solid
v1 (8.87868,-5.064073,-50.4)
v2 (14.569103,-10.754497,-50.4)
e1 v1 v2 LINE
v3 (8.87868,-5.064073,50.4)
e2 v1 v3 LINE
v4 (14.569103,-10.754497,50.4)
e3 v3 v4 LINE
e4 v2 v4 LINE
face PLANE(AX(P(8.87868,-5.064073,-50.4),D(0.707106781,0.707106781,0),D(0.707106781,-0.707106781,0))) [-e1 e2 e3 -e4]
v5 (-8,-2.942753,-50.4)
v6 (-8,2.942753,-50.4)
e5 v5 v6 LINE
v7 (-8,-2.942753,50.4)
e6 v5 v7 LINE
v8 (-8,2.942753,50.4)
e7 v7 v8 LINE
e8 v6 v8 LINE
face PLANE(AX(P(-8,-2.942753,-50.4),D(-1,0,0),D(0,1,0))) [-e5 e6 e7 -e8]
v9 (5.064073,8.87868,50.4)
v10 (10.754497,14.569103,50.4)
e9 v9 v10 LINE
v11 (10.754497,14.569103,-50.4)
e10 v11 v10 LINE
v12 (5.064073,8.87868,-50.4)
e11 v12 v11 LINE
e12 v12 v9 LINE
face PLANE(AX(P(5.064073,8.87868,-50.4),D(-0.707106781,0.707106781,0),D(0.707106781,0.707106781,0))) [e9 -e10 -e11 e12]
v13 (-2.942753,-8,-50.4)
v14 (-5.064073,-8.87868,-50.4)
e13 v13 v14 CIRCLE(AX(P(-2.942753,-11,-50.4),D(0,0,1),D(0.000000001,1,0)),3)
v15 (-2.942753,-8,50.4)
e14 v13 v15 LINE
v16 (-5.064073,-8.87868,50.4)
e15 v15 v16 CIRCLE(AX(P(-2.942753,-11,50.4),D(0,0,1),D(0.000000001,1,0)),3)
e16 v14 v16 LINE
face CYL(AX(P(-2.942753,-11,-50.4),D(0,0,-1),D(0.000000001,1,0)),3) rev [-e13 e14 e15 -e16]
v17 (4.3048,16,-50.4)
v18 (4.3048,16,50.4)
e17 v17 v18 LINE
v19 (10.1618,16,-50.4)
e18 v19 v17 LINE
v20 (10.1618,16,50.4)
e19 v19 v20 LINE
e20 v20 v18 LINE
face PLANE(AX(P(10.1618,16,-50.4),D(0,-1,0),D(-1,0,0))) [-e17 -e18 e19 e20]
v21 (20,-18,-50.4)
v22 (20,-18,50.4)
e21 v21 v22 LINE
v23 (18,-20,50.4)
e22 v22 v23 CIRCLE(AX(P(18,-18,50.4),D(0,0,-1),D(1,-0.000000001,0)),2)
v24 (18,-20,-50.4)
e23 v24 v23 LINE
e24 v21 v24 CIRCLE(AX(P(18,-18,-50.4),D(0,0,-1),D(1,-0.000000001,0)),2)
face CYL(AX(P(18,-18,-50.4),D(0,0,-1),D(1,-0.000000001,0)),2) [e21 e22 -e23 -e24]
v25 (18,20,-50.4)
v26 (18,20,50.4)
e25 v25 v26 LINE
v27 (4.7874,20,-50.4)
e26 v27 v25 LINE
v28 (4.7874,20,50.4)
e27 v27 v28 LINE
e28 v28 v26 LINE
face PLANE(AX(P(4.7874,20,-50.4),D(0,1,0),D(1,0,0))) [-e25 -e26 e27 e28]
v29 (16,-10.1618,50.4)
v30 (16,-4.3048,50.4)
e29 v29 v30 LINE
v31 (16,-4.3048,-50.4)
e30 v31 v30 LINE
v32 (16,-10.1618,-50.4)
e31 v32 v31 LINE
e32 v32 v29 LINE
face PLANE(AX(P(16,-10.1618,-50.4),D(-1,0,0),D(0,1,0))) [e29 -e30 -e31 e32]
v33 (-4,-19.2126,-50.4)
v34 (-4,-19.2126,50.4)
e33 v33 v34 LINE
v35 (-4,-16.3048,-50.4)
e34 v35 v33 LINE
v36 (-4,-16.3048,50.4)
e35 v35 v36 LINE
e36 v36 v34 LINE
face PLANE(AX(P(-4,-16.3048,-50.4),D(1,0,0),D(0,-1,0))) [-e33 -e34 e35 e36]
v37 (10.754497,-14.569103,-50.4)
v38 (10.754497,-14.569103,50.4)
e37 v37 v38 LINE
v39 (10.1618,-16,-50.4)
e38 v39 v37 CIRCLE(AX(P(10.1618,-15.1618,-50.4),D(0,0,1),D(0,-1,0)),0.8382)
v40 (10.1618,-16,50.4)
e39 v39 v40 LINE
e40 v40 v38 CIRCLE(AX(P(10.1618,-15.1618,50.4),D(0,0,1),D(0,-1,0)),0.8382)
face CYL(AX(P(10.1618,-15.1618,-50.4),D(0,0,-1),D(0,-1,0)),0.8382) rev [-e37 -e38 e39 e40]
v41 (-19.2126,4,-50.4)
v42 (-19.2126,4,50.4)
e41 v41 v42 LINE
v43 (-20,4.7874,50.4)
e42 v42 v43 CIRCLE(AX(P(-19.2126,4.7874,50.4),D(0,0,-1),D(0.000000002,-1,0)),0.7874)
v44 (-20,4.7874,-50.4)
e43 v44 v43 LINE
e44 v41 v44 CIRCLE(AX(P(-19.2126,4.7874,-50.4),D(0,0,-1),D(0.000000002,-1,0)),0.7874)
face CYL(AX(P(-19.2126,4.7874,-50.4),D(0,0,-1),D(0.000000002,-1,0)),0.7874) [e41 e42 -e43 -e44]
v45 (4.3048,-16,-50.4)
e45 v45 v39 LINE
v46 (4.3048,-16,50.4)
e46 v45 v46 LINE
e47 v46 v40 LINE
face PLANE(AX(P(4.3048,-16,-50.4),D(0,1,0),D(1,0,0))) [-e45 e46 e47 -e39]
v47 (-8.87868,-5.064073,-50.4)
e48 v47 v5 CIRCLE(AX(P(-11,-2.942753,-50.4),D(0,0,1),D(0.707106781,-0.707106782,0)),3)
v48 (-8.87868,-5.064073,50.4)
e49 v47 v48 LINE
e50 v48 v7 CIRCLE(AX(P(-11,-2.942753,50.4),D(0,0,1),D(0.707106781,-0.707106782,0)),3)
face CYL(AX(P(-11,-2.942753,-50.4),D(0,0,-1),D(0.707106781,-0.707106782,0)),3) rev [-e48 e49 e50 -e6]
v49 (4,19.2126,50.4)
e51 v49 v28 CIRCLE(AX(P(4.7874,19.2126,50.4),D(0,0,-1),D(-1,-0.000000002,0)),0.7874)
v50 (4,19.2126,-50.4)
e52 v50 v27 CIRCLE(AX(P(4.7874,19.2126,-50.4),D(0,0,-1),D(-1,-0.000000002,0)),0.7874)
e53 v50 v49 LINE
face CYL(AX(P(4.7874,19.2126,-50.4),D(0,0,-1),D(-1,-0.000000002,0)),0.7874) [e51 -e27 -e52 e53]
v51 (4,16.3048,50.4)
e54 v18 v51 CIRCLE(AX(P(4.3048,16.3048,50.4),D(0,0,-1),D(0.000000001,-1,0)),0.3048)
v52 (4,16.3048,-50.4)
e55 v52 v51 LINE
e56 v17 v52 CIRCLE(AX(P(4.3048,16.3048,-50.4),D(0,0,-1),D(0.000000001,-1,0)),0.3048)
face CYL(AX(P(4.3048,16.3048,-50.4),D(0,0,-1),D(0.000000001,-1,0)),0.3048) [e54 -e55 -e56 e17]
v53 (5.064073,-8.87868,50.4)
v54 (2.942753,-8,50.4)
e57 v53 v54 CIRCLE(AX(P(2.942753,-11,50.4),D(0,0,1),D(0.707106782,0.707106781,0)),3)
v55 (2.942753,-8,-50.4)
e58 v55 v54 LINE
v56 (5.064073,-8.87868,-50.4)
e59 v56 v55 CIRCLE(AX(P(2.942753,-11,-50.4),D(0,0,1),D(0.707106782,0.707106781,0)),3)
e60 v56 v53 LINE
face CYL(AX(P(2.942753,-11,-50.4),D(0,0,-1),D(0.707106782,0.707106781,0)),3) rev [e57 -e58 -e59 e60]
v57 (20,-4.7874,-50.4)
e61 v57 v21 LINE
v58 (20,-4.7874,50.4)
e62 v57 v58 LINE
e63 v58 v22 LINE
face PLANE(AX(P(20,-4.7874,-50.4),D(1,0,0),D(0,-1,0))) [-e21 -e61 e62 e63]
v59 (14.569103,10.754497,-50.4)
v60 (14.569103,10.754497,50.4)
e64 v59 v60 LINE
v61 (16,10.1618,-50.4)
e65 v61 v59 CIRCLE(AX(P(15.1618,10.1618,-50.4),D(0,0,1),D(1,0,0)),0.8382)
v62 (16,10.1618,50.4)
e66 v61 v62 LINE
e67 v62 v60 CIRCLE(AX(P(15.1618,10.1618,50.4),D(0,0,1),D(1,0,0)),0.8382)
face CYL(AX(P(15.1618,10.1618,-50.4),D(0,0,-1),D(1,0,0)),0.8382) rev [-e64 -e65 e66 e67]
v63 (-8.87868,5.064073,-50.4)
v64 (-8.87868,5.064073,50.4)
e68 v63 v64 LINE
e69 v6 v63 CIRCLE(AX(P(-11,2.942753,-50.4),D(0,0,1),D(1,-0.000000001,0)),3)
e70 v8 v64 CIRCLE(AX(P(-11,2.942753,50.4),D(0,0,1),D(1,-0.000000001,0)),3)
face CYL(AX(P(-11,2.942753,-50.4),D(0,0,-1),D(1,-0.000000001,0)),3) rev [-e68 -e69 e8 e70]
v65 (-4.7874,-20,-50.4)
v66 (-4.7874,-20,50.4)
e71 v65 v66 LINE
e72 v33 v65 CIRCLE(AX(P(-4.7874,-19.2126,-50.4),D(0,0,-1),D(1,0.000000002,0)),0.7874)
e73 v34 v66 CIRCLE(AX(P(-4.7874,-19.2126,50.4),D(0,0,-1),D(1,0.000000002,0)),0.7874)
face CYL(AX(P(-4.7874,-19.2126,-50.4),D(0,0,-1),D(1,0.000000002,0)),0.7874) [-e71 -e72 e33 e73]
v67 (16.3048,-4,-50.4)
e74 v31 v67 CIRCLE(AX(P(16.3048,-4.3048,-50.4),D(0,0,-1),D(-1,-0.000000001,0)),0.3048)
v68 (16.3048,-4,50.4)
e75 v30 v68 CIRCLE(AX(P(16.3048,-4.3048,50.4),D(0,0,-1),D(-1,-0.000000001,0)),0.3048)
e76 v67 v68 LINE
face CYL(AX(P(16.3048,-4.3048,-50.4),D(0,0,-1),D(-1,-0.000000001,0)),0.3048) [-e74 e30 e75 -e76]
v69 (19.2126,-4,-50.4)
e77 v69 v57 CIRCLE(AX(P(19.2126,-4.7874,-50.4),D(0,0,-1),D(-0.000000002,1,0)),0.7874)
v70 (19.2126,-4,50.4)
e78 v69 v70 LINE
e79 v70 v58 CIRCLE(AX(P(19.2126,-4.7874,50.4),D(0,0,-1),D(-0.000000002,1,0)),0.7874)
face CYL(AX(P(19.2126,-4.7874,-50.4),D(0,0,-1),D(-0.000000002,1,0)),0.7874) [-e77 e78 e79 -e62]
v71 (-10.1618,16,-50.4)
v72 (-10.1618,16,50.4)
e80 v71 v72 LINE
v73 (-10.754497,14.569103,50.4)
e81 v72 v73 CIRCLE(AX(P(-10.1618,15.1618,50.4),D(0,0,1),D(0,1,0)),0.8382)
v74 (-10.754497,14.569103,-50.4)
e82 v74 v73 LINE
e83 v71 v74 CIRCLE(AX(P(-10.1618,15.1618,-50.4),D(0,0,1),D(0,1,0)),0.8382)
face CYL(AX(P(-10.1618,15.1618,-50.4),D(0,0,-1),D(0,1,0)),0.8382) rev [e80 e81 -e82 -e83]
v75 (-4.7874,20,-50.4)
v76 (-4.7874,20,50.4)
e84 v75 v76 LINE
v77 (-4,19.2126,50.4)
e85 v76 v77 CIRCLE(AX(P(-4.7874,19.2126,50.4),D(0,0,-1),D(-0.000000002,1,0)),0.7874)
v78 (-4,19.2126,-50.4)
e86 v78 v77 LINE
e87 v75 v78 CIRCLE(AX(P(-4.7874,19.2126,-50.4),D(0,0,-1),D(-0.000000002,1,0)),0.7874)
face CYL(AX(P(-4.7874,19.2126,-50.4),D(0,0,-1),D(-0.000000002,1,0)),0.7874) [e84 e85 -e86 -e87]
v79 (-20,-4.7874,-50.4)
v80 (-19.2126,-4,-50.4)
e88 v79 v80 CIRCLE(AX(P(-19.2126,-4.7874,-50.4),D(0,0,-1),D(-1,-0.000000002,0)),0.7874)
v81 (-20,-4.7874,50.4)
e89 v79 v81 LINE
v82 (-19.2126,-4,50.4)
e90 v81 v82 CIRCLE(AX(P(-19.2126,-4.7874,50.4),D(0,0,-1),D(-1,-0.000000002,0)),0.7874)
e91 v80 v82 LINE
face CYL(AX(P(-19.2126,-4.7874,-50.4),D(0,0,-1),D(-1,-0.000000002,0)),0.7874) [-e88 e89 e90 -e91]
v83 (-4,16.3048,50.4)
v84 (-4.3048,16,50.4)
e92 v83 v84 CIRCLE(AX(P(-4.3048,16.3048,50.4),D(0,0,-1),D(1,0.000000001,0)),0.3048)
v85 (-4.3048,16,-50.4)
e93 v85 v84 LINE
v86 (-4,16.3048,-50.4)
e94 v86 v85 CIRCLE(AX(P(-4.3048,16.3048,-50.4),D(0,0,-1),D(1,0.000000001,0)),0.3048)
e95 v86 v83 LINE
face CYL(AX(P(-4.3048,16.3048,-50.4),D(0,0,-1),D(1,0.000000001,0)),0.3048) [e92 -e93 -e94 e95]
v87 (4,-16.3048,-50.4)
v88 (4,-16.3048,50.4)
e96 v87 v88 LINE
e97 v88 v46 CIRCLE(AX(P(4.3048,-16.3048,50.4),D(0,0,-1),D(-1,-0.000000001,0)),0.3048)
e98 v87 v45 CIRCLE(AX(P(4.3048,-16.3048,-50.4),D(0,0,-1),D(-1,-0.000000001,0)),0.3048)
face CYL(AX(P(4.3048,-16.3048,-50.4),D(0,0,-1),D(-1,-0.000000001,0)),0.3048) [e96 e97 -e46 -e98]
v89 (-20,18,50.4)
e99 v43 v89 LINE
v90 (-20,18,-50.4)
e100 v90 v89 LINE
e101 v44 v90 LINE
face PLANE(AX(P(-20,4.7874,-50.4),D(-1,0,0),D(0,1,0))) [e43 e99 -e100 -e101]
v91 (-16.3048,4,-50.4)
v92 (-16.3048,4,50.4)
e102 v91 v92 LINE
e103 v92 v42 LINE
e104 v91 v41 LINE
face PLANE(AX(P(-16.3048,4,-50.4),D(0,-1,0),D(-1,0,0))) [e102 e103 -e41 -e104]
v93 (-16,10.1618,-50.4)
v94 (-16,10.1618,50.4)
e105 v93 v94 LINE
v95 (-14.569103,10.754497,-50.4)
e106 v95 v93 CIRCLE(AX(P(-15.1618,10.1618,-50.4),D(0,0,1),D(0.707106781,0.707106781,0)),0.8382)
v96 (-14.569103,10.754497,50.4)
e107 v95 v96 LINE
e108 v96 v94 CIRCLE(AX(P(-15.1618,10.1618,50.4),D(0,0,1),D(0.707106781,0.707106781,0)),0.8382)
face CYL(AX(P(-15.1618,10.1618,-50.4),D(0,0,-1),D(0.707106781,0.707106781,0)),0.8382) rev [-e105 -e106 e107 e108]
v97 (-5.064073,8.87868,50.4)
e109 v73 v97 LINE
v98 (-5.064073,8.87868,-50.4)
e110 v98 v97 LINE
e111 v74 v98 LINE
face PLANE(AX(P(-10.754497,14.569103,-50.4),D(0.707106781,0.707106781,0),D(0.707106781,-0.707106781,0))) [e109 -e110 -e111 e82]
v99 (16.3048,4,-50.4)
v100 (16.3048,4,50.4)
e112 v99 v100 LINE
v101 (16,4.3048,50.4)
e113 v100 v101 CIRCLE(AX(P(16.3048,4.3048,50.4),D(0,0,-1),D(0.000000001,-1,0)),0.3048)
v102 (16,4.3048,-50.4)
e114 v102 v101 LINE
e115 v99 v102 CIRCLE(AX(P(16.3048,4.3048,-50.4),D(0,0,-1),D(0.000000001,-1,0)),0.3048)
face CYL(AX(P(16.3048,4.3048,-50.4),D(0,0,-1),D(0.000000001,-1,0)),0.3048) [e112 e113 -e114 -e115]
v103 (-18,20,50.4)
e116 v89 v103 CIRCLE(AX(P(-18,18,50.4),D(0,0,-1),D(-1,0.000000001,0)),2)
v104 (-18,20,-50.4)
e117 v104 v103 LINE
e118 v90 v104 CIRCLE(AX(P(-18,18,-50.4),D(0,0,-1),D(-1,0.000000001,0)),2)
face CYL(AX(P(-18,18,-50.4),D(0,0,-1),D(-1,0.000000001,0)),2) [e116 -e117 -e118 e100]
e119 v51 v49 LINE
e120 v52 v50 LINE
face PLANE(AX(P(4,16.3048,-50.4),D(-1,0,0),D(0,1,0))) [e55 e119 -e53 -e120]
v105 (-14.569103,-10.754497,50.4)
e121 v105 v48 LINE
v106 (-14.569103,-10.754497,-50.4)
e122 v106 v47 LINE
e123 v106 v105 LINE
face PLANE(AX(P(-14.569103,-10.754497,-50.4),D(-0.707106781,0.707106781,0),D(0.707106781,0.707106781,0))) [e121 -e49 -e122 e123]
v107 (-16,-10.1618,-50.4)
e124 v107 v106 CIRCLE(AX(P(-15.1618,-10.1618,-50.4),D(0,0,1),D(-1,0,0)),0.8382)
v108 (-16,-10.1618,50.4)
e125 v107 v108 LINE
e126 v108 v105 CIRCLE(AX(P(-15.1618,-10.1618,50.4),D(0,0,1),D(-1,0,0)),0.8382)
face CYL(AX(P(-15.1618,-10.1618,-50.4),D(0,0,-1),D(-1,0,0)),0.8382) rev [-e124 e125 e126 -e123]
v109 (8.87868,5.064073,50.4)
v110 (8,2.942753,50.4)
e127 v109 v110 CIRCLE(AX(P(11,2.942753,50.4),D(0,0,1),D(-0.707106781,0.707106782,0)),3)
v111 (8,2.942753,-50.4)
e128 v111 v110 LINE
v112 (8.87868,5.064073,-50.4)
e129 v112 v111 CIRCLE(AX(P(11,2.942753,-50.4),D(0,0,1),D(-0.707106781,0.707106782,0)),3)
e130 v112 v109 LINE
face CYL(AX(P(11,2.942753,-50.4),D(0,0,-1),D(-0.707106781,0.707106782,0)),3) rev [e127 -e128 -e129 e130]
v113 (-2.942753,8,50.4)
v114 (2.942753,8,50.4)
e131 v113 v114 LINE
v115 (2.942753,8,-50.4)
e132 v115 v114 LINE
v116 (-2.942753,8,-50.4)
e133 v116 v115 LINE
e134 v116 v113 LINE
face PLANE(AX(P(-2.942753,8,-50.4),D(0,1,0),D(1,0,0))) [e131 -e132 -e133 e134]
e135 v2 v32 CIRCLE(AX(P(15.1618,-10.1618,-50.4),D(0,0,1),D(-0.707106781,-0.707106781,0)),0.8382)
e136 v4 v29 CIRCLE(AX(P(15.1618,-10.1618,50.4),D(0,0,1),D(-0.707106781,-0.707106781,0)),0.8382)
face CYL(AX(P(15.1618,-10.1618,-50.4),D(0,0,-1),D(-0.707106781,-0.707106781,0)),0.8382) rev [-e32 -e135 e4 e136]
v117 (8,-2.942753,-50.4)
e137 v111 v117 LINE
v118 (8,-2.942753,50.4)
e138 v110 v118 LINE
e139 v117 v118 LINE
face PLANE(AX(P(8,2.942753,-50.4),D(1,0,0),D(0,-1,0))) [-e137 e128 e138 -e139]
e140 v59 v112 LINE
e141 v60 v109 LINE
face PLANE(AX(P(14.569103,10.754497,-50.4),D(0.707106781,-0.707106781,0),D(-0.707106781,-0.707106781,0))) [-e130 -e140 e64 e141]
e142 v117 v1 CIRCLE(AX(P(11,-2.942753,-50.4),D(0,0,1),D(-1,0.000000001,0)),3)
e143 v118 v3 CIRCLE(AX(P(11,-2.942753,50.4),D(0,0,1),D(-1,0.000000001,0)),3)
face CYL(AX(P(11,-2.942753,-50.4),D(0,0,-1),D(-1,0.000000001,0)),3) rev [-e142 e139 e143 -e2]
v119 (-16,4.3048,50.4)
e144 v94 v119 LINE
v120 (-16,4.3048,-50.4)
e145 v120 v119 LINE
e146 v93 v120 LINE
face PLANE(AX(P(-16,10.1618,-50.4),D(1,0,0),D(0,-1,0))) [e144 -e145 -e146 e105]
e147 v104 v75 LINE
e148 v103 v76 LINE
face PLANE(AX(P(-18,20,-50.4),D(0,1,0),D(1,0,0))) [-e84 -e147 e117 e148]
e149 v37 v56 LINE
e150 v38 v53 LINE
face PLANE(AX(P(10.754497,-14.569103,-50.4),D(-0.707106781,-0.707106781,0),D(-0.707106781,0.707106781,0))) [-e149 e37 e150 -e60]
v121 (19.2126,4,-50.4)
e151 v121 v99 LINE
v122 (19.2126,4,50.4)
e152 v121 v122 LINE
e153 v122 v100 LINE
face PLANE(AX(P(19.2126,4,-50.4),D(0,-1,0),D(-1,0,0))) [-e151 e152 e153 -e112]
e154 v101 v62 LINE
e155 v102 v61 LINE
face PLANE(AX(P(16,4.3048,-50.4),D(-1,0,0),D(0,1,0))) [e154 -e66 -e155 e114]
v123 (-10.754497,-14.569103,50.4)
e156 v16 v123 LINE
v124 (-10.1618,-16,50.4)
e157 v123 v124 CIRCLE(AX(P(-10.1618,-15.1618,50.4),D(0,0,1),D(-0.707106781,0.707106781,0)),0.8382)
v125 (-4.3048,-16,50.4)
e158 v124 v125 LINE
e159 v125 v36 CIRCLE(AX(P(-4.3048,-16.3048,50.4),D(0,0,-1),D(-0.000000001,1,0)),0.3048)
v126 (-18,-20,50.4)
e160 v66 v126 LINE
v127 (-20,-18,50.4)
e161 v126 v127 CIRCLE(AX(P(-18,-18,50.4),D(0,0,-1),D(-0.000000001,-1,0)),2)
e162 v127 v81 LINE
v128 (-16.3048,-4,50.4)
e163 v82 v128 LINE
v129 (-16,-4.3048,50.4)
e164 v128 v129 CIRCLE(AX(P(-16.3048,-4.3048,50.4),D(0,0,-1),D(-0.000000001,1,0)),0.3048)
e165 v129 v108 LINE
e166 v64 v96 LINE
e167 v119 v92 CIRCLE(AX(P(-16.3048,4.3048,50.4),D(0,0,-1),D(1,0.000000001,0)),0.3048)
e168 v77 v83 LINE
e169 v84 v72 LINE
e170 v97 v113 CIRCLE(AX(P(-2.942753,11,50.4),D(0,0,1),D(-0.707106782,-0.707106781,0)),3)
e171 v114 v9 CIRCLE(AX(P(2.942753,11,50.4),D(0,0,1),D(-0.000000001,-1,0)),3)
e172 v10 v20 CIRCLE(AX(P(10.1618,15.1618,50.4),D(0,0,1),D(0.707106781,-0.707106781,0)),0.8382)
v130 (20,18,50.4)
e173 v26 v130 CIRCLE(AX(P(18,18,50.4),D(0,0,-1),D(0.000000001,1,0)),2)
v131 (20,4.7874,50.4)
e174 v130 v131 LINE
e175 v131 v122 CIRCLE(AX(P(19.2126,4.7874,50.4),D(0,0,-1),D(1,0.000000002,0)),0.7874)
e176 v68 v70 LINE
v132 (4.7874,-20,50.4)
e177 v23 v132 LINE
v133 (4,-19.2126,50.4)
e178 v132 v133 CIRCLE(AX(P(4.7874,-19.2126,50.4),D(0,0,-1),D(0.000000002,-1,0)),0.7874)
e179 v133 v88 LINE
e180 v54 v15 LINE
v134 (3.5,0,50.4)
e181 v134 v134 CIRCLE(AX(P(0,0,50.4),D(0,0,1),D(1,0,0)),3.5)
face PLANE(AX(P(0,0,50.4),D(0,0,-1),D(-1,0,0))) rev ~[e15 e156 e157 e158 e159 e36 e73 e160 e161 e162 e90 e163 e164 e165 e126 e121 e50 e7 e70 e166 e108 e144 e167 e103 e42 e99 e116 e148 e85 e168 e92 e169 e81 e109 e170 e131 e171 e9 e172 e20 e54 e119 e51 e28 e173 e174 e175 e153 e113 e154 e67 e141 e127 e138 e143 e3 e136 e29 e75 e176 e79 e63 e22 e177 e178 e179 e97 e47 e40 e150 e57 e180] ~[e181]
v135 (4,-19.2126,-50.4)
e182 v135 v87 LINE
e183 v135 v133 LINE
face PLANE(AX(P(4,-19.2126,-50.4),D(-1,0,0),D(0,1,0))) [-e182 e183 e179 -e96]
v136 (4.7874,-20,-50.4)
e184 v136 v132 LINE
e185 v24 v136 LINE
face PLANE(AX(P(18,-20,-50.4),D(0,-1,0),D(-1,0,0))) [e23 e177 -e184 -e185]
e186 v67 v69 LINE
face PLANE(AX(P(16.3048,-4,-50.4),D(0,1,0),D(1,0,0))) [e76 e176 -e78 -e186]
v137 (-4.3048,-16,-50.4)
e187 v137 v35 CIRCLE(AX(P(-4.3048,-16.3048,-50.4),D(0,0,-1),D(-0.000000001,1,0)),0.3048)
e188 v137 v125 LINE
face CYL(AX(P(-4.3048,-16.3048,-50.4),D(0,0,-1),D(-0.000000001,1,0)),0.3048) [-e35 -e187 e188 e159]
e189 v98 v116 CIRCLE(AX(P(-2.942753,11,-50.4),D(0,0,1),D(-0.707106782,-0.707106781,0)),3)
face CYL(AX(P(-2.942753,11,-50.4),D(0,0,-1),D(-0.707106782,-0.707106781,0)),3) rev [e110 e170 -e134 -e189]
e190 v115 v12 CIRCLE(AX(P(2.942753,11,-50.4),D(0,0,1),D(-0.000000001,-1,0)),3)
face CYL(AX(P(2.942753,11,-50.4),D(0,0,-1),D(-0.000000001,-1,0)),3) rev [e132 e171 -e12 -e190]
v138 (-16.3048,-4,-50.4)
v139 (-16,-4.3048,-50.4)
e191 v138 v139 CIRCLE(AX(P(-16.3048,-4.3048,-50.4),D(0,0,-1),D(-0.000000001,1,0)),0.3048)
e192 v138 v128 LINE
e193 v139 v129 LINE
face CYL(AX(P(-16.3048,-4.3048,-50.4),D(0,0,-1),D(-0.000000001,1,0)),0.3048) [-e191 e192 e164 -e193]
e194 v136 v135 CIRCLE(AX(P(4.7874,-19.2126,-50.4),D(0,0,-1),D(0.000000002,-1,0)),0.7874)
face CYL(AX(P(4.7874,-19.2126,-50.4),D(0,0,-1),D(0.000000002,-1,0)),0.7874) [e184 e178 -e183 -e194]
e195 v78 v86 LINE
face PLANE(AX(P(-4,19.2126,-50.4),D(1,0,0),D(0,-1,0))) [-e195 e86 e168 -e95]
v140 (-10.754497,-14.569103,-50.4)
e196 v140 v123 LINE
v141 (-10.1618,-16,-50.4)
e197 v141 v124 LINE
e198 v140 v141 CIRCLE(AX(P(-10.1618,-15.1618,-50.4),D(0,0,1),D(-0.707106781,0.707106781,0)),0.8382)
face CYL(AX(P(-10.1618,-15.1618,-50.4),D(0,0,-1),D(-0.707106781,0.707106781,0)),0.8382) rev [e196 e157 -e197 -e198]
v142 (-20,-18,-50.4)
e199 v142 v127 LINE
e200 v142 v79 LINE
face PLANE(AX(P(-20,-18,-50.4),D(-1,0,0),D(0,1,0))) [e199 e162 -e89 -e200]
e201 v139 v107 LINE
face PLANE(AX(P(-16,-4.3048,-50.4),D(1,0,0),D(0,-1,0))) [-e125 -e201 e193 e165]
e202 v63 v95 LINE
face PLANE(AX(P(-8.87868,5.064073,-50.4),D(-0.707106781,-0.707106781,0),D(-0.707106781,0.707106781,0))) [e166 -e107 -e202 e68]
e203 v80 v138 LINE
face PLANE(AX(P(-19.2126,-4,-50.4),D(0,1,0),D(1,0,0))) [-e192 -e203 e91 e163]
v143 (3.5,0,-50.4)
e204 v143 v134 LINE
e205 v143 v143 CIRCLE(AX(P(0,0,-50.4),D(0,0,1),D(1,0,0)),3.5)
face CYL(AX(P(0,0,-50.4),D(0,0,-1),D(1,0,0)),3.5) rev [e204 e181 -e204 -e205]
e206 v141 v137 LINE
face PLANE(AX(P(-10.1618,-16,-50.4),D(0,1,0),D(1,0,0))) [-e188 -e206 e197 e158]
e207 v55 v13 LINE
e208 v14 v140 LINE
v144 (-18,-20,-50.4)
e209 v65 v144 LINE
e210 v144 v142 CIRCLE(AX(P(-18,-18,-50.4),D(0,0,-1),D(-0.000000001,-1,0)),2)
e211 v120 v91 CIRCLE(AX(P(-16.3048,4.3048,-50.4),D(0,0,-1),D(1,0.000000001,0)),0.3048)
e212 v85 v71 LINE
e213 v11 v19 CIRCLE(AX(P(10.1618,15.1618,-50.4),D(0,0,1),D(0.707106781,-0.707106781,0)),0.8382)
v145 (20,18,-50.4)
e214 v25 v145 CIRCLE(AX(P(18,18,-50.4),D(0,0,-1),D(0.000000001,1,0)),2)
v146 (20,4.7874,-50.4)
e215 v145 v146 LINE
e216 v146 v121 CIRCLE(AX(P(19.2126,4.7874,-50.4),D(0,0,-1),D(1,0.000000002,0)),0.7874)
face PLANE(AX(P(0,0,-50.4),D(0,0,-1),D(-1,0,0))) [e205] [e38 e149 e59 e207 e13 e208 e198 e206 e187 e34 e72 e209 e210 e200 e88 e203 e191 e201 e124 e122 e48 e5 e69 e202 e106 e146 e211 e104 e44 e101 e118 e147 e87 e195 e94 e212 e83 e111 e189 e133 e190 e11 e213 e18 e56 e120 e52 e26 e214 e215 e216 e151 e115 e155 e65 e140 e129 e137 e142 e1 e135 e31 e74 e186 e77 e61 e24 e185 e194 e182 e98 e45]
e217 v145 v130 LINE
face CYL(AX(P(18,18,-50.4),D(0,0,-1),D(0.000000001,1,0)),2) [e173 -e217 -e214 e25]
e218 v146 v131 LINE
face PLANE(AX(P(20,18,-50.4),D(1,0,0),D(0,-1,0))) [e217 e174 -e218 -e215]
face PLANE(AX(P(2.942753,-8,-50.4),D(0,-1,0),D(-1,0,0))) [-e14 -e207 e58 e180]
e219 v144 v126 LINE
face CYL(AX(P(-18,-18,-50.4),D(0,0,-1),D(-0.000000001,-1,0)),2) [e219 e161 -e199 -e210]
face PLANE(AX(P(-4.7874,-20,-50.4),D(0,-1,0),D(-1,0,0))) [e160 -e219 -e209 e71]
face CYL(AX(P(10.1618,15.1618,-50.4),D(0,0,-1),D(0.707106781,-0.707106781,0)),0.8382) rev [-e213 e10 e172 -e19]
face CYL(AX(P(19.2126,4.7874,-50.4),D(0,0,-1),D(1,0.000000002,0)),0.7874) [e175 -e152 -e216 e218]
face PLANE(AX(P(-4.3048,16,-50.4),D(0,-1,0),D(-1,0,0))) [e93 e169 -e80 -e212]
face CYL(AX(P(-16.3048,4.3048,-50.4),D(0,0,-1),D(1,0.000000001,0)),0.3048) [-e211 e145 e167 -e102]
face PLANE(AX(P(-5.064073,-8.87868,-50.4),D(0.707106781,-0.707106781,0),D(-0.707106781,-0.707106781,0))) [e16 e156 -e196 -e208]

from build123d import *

# Parameters (mm, degrees)
BOSS_EXTRUDE1_DEPTH      = 50.4
BOSS_EXTRUDE1_DEPTH_BACK = 50.4
SKETCH3_R                = 3.5


with BuildPart() as part:
    # Sketch3 → Boss-Extrude1 (new, two sides: drawn at the far end of the back side and taken through both)
    with BuildSketch(Plane.XY.offset(-BOSS_EXTRUDE1_DEPTH_BACK)):
        with BuildLine():
            Line((4.7874, 20), (18, 20))
            ThreePointArc((18, 20), (19.414213562, 19.414213562), (20, 18))
            Line((20, 18), (20, 4.7874))
            ThreePointArc((20, 4.7874), (19.76937588, 4.23062412), (19.2126, 4))
            Line((19.2126, 4), (16.3048, 4))
            ThreePointArc((16.3048, 4), (16.089273853, 4.089273853), (16, 4.3048))
            Line((16, 4.3048), (16, 10.1618))
            ThreePointArc((16, 10.1618), (15.482565253, 10.936195824), (14.569103096, 10.754496904))
            Line((14.569103096, 10.754496904), (8.878679656, 5.064073464))
            ThreePointArc((8.878679656, 5.064073464), (8.228361402, 4.090803418), (8, 2.942753121))
            Line((8, 2.942753121), (8, -2.942753121))
            ThreePointArc((8, -2.942753121), (8.228361402, -4.090803418), (8.878679656, -5.064073464))
            Line((8.878679656, -5.064073464), (14.569103096, -10.754496904))
            ThreePointArc((14.569103096, -10.754496904), (15.482565253, -10.936195824), (16, -10.1618))
            Line((16, -10.1618), (16, -4.3048))
            ThreePointArc((16, -4.3048), (16.089273853, -4.089273853), (16.3048, -4))
            Line((16.3048, -4), (19.2126, -4))
            ThreePointArc((19.2126, -4), (19.76937588, -4.23062412), (20, -4.7874))
            Line((20, -4.7874), (20, -18))
            ThreePointArc((20, -18), (19.414213562, -19.414213562), (18, -20))
            Line((18, -20), (4.7874, -20))
            ThreePointArc((4.7874, -20), (4.23062412, -19.76937588), (4, -19.2126))
            Line((4, -19.2126), (4, -16.3048))
            ThreePointArc((4, -16.3048), (4.089273853, -16.089273853), (4.3048, -16))
            Line((4.3048, -16), (10.1618, -16))
            ThreePointArc((10.1618, -16), (10.936195824, -15.482565253), (10.754496904, -14.569103096))
            Line((10.754496904, -14.569103096), (5.064073464, -8.878679656))
            ThreePointArc((5.064073464, -8.878679656), (4.090803418, -8.228361402), (2.942753121, -8))
            Line((2.942753121, -8), (-2.942753121, -8))
            ThreePointArc((-2.942753121, -8), (-4.090803418, -8.228361402), (-5.064073464, -8.878679656))
            Line((-5.064073464, -8.878679656), (-10.754496904, -14.569103096))
            ThreePointArc((-10.754496904, -14.569103096), (-10.936195824, -15.482565253), (-10.1618, -16))
            Line((-10.1618, -16), (-4.3048, -16))
            ThreePointArc((-4.3048, -16), (-4.089273853, -16.089273853), (-4, -16.3048))
            Line((-4, -16.3048), (-4, -19.2126))
            ThreePointArc((-4, -19.2126), (-4.23062412, -19.76937588), (-4.7874, -20))
            Line((-4.7874, -20), (-18, -20))
            ThreePointArc((-18, -20), (-19.414213562, -19.414213562), (-20, -18))
            Line((-20, -18), (-20, -4.7874))
            ThreePointArc((-20, -4.7874), (-19.76937588, -4.23062412), (-19.2126, -4))
            Line((-19.2126, -4), (-16.3048, -4))
            ThreePointArc((-16.3048, -4), (-16.089273853, -4.089273853), (-16, -4.3048))
            Line((-16, -4.3048), (-16, -10.1618))
            ThreePointArc((-16, -10.1618), (-15.482565253, -10.936195824), (-14.569103096, -10.754496904))
            Line((-14.569103096, -10.754496904), (-8.878679656, -5.064073464))
            ThreePointArc((-8.878679656, -5.064073464), (-8.228361402, -4.090803418), (-8, -2.942753121))
            Line((-8, -2.942753121), (-8, 2.942753121))
            ThreePointArc((-8, 2.942753121), (-8.228361402, 4.090803418), (-8.878679656, 5.064073464))
            Line((-8.878679656, 5.064073464), (-14.569103096, 10.754496904))
            ThreePointArc((-14.569103096, 10.754496904), (-15.482565253, 10.936195824), (-16, 10.1618))
            Line((-16, 10.1618), (-16, 4.3048))
            ThreePointArc((-16, 4.3048), (-16.089273853, 4.089273853), (-16.3048, 4))
            Line((-16.3048, 4), (-19.2126, 4))
            ThreePointArc((-19.2126, 4), (-19.76937588, 4.23062412), (-20, 4.7874))
            Line((-20, 4.7874), (-20, 18))
            ThreePointArc((-20, 18), (-19.414213562, 19.414213562), (-18, 20))
            Line((-18, 20), (-4.7874, 20))
            ThreePointArc((-4.7874, 20), (-4.23062412, 19.76937588), (-4, 19.2126))
            Line((-4, 19.2126), (-4, 16.3048))
            ThreePointArc((-4, 16.3048), (-4.089273853, 16.089273853), (-4.3048, 16))
            Line((-4.3048, 16), (-10.1618, 16))
            ThreePointArc((-10.1618, 16), (-10.936195824, 15.482565253), (-10.754496904, 14.569103096))
            Line((-10.754496904, 14.569103096), (-5.064073464, 8.878679656))
            ThreePointArc((-5.064073464, 8.878679656), (-4.090803418, 8.228361402), (-2.942753121, 8))
            Line((-2.942753121, 8), (2.942753121, 8))
            ThreePointArc((2.942753121, 8), (4.090803418, 8.228361402), (5.064073464, 8.878679656))
            Line((5.064073464, 8.878679656), (10.754496904, 14.569103096))
            ThreePointArc((10.754496904, 14.569103096), (10.936195824, 15.482565253), (10.1618, 16))
            Line((10.1618, 16), (4.3048, 16))
            ThreePointArc((4.3048, 16), (4.089273853, 16.089273853), (4, 16.3048))
            Line((4, 16.3048), (4, 19.2126))
            ThreePointArc((4, 19.2126), (4.23062412, 19.76937588), (4.7874, 20))
        make_face()
        Circle(SKETCH3_R, mode=Mode.SUBTRACT)
    extrude(amount=BOSS_EXTRUDE1_DEPTH + BOSS_EXTRUDE1_DEPTH_BACK)


solid = part.part
